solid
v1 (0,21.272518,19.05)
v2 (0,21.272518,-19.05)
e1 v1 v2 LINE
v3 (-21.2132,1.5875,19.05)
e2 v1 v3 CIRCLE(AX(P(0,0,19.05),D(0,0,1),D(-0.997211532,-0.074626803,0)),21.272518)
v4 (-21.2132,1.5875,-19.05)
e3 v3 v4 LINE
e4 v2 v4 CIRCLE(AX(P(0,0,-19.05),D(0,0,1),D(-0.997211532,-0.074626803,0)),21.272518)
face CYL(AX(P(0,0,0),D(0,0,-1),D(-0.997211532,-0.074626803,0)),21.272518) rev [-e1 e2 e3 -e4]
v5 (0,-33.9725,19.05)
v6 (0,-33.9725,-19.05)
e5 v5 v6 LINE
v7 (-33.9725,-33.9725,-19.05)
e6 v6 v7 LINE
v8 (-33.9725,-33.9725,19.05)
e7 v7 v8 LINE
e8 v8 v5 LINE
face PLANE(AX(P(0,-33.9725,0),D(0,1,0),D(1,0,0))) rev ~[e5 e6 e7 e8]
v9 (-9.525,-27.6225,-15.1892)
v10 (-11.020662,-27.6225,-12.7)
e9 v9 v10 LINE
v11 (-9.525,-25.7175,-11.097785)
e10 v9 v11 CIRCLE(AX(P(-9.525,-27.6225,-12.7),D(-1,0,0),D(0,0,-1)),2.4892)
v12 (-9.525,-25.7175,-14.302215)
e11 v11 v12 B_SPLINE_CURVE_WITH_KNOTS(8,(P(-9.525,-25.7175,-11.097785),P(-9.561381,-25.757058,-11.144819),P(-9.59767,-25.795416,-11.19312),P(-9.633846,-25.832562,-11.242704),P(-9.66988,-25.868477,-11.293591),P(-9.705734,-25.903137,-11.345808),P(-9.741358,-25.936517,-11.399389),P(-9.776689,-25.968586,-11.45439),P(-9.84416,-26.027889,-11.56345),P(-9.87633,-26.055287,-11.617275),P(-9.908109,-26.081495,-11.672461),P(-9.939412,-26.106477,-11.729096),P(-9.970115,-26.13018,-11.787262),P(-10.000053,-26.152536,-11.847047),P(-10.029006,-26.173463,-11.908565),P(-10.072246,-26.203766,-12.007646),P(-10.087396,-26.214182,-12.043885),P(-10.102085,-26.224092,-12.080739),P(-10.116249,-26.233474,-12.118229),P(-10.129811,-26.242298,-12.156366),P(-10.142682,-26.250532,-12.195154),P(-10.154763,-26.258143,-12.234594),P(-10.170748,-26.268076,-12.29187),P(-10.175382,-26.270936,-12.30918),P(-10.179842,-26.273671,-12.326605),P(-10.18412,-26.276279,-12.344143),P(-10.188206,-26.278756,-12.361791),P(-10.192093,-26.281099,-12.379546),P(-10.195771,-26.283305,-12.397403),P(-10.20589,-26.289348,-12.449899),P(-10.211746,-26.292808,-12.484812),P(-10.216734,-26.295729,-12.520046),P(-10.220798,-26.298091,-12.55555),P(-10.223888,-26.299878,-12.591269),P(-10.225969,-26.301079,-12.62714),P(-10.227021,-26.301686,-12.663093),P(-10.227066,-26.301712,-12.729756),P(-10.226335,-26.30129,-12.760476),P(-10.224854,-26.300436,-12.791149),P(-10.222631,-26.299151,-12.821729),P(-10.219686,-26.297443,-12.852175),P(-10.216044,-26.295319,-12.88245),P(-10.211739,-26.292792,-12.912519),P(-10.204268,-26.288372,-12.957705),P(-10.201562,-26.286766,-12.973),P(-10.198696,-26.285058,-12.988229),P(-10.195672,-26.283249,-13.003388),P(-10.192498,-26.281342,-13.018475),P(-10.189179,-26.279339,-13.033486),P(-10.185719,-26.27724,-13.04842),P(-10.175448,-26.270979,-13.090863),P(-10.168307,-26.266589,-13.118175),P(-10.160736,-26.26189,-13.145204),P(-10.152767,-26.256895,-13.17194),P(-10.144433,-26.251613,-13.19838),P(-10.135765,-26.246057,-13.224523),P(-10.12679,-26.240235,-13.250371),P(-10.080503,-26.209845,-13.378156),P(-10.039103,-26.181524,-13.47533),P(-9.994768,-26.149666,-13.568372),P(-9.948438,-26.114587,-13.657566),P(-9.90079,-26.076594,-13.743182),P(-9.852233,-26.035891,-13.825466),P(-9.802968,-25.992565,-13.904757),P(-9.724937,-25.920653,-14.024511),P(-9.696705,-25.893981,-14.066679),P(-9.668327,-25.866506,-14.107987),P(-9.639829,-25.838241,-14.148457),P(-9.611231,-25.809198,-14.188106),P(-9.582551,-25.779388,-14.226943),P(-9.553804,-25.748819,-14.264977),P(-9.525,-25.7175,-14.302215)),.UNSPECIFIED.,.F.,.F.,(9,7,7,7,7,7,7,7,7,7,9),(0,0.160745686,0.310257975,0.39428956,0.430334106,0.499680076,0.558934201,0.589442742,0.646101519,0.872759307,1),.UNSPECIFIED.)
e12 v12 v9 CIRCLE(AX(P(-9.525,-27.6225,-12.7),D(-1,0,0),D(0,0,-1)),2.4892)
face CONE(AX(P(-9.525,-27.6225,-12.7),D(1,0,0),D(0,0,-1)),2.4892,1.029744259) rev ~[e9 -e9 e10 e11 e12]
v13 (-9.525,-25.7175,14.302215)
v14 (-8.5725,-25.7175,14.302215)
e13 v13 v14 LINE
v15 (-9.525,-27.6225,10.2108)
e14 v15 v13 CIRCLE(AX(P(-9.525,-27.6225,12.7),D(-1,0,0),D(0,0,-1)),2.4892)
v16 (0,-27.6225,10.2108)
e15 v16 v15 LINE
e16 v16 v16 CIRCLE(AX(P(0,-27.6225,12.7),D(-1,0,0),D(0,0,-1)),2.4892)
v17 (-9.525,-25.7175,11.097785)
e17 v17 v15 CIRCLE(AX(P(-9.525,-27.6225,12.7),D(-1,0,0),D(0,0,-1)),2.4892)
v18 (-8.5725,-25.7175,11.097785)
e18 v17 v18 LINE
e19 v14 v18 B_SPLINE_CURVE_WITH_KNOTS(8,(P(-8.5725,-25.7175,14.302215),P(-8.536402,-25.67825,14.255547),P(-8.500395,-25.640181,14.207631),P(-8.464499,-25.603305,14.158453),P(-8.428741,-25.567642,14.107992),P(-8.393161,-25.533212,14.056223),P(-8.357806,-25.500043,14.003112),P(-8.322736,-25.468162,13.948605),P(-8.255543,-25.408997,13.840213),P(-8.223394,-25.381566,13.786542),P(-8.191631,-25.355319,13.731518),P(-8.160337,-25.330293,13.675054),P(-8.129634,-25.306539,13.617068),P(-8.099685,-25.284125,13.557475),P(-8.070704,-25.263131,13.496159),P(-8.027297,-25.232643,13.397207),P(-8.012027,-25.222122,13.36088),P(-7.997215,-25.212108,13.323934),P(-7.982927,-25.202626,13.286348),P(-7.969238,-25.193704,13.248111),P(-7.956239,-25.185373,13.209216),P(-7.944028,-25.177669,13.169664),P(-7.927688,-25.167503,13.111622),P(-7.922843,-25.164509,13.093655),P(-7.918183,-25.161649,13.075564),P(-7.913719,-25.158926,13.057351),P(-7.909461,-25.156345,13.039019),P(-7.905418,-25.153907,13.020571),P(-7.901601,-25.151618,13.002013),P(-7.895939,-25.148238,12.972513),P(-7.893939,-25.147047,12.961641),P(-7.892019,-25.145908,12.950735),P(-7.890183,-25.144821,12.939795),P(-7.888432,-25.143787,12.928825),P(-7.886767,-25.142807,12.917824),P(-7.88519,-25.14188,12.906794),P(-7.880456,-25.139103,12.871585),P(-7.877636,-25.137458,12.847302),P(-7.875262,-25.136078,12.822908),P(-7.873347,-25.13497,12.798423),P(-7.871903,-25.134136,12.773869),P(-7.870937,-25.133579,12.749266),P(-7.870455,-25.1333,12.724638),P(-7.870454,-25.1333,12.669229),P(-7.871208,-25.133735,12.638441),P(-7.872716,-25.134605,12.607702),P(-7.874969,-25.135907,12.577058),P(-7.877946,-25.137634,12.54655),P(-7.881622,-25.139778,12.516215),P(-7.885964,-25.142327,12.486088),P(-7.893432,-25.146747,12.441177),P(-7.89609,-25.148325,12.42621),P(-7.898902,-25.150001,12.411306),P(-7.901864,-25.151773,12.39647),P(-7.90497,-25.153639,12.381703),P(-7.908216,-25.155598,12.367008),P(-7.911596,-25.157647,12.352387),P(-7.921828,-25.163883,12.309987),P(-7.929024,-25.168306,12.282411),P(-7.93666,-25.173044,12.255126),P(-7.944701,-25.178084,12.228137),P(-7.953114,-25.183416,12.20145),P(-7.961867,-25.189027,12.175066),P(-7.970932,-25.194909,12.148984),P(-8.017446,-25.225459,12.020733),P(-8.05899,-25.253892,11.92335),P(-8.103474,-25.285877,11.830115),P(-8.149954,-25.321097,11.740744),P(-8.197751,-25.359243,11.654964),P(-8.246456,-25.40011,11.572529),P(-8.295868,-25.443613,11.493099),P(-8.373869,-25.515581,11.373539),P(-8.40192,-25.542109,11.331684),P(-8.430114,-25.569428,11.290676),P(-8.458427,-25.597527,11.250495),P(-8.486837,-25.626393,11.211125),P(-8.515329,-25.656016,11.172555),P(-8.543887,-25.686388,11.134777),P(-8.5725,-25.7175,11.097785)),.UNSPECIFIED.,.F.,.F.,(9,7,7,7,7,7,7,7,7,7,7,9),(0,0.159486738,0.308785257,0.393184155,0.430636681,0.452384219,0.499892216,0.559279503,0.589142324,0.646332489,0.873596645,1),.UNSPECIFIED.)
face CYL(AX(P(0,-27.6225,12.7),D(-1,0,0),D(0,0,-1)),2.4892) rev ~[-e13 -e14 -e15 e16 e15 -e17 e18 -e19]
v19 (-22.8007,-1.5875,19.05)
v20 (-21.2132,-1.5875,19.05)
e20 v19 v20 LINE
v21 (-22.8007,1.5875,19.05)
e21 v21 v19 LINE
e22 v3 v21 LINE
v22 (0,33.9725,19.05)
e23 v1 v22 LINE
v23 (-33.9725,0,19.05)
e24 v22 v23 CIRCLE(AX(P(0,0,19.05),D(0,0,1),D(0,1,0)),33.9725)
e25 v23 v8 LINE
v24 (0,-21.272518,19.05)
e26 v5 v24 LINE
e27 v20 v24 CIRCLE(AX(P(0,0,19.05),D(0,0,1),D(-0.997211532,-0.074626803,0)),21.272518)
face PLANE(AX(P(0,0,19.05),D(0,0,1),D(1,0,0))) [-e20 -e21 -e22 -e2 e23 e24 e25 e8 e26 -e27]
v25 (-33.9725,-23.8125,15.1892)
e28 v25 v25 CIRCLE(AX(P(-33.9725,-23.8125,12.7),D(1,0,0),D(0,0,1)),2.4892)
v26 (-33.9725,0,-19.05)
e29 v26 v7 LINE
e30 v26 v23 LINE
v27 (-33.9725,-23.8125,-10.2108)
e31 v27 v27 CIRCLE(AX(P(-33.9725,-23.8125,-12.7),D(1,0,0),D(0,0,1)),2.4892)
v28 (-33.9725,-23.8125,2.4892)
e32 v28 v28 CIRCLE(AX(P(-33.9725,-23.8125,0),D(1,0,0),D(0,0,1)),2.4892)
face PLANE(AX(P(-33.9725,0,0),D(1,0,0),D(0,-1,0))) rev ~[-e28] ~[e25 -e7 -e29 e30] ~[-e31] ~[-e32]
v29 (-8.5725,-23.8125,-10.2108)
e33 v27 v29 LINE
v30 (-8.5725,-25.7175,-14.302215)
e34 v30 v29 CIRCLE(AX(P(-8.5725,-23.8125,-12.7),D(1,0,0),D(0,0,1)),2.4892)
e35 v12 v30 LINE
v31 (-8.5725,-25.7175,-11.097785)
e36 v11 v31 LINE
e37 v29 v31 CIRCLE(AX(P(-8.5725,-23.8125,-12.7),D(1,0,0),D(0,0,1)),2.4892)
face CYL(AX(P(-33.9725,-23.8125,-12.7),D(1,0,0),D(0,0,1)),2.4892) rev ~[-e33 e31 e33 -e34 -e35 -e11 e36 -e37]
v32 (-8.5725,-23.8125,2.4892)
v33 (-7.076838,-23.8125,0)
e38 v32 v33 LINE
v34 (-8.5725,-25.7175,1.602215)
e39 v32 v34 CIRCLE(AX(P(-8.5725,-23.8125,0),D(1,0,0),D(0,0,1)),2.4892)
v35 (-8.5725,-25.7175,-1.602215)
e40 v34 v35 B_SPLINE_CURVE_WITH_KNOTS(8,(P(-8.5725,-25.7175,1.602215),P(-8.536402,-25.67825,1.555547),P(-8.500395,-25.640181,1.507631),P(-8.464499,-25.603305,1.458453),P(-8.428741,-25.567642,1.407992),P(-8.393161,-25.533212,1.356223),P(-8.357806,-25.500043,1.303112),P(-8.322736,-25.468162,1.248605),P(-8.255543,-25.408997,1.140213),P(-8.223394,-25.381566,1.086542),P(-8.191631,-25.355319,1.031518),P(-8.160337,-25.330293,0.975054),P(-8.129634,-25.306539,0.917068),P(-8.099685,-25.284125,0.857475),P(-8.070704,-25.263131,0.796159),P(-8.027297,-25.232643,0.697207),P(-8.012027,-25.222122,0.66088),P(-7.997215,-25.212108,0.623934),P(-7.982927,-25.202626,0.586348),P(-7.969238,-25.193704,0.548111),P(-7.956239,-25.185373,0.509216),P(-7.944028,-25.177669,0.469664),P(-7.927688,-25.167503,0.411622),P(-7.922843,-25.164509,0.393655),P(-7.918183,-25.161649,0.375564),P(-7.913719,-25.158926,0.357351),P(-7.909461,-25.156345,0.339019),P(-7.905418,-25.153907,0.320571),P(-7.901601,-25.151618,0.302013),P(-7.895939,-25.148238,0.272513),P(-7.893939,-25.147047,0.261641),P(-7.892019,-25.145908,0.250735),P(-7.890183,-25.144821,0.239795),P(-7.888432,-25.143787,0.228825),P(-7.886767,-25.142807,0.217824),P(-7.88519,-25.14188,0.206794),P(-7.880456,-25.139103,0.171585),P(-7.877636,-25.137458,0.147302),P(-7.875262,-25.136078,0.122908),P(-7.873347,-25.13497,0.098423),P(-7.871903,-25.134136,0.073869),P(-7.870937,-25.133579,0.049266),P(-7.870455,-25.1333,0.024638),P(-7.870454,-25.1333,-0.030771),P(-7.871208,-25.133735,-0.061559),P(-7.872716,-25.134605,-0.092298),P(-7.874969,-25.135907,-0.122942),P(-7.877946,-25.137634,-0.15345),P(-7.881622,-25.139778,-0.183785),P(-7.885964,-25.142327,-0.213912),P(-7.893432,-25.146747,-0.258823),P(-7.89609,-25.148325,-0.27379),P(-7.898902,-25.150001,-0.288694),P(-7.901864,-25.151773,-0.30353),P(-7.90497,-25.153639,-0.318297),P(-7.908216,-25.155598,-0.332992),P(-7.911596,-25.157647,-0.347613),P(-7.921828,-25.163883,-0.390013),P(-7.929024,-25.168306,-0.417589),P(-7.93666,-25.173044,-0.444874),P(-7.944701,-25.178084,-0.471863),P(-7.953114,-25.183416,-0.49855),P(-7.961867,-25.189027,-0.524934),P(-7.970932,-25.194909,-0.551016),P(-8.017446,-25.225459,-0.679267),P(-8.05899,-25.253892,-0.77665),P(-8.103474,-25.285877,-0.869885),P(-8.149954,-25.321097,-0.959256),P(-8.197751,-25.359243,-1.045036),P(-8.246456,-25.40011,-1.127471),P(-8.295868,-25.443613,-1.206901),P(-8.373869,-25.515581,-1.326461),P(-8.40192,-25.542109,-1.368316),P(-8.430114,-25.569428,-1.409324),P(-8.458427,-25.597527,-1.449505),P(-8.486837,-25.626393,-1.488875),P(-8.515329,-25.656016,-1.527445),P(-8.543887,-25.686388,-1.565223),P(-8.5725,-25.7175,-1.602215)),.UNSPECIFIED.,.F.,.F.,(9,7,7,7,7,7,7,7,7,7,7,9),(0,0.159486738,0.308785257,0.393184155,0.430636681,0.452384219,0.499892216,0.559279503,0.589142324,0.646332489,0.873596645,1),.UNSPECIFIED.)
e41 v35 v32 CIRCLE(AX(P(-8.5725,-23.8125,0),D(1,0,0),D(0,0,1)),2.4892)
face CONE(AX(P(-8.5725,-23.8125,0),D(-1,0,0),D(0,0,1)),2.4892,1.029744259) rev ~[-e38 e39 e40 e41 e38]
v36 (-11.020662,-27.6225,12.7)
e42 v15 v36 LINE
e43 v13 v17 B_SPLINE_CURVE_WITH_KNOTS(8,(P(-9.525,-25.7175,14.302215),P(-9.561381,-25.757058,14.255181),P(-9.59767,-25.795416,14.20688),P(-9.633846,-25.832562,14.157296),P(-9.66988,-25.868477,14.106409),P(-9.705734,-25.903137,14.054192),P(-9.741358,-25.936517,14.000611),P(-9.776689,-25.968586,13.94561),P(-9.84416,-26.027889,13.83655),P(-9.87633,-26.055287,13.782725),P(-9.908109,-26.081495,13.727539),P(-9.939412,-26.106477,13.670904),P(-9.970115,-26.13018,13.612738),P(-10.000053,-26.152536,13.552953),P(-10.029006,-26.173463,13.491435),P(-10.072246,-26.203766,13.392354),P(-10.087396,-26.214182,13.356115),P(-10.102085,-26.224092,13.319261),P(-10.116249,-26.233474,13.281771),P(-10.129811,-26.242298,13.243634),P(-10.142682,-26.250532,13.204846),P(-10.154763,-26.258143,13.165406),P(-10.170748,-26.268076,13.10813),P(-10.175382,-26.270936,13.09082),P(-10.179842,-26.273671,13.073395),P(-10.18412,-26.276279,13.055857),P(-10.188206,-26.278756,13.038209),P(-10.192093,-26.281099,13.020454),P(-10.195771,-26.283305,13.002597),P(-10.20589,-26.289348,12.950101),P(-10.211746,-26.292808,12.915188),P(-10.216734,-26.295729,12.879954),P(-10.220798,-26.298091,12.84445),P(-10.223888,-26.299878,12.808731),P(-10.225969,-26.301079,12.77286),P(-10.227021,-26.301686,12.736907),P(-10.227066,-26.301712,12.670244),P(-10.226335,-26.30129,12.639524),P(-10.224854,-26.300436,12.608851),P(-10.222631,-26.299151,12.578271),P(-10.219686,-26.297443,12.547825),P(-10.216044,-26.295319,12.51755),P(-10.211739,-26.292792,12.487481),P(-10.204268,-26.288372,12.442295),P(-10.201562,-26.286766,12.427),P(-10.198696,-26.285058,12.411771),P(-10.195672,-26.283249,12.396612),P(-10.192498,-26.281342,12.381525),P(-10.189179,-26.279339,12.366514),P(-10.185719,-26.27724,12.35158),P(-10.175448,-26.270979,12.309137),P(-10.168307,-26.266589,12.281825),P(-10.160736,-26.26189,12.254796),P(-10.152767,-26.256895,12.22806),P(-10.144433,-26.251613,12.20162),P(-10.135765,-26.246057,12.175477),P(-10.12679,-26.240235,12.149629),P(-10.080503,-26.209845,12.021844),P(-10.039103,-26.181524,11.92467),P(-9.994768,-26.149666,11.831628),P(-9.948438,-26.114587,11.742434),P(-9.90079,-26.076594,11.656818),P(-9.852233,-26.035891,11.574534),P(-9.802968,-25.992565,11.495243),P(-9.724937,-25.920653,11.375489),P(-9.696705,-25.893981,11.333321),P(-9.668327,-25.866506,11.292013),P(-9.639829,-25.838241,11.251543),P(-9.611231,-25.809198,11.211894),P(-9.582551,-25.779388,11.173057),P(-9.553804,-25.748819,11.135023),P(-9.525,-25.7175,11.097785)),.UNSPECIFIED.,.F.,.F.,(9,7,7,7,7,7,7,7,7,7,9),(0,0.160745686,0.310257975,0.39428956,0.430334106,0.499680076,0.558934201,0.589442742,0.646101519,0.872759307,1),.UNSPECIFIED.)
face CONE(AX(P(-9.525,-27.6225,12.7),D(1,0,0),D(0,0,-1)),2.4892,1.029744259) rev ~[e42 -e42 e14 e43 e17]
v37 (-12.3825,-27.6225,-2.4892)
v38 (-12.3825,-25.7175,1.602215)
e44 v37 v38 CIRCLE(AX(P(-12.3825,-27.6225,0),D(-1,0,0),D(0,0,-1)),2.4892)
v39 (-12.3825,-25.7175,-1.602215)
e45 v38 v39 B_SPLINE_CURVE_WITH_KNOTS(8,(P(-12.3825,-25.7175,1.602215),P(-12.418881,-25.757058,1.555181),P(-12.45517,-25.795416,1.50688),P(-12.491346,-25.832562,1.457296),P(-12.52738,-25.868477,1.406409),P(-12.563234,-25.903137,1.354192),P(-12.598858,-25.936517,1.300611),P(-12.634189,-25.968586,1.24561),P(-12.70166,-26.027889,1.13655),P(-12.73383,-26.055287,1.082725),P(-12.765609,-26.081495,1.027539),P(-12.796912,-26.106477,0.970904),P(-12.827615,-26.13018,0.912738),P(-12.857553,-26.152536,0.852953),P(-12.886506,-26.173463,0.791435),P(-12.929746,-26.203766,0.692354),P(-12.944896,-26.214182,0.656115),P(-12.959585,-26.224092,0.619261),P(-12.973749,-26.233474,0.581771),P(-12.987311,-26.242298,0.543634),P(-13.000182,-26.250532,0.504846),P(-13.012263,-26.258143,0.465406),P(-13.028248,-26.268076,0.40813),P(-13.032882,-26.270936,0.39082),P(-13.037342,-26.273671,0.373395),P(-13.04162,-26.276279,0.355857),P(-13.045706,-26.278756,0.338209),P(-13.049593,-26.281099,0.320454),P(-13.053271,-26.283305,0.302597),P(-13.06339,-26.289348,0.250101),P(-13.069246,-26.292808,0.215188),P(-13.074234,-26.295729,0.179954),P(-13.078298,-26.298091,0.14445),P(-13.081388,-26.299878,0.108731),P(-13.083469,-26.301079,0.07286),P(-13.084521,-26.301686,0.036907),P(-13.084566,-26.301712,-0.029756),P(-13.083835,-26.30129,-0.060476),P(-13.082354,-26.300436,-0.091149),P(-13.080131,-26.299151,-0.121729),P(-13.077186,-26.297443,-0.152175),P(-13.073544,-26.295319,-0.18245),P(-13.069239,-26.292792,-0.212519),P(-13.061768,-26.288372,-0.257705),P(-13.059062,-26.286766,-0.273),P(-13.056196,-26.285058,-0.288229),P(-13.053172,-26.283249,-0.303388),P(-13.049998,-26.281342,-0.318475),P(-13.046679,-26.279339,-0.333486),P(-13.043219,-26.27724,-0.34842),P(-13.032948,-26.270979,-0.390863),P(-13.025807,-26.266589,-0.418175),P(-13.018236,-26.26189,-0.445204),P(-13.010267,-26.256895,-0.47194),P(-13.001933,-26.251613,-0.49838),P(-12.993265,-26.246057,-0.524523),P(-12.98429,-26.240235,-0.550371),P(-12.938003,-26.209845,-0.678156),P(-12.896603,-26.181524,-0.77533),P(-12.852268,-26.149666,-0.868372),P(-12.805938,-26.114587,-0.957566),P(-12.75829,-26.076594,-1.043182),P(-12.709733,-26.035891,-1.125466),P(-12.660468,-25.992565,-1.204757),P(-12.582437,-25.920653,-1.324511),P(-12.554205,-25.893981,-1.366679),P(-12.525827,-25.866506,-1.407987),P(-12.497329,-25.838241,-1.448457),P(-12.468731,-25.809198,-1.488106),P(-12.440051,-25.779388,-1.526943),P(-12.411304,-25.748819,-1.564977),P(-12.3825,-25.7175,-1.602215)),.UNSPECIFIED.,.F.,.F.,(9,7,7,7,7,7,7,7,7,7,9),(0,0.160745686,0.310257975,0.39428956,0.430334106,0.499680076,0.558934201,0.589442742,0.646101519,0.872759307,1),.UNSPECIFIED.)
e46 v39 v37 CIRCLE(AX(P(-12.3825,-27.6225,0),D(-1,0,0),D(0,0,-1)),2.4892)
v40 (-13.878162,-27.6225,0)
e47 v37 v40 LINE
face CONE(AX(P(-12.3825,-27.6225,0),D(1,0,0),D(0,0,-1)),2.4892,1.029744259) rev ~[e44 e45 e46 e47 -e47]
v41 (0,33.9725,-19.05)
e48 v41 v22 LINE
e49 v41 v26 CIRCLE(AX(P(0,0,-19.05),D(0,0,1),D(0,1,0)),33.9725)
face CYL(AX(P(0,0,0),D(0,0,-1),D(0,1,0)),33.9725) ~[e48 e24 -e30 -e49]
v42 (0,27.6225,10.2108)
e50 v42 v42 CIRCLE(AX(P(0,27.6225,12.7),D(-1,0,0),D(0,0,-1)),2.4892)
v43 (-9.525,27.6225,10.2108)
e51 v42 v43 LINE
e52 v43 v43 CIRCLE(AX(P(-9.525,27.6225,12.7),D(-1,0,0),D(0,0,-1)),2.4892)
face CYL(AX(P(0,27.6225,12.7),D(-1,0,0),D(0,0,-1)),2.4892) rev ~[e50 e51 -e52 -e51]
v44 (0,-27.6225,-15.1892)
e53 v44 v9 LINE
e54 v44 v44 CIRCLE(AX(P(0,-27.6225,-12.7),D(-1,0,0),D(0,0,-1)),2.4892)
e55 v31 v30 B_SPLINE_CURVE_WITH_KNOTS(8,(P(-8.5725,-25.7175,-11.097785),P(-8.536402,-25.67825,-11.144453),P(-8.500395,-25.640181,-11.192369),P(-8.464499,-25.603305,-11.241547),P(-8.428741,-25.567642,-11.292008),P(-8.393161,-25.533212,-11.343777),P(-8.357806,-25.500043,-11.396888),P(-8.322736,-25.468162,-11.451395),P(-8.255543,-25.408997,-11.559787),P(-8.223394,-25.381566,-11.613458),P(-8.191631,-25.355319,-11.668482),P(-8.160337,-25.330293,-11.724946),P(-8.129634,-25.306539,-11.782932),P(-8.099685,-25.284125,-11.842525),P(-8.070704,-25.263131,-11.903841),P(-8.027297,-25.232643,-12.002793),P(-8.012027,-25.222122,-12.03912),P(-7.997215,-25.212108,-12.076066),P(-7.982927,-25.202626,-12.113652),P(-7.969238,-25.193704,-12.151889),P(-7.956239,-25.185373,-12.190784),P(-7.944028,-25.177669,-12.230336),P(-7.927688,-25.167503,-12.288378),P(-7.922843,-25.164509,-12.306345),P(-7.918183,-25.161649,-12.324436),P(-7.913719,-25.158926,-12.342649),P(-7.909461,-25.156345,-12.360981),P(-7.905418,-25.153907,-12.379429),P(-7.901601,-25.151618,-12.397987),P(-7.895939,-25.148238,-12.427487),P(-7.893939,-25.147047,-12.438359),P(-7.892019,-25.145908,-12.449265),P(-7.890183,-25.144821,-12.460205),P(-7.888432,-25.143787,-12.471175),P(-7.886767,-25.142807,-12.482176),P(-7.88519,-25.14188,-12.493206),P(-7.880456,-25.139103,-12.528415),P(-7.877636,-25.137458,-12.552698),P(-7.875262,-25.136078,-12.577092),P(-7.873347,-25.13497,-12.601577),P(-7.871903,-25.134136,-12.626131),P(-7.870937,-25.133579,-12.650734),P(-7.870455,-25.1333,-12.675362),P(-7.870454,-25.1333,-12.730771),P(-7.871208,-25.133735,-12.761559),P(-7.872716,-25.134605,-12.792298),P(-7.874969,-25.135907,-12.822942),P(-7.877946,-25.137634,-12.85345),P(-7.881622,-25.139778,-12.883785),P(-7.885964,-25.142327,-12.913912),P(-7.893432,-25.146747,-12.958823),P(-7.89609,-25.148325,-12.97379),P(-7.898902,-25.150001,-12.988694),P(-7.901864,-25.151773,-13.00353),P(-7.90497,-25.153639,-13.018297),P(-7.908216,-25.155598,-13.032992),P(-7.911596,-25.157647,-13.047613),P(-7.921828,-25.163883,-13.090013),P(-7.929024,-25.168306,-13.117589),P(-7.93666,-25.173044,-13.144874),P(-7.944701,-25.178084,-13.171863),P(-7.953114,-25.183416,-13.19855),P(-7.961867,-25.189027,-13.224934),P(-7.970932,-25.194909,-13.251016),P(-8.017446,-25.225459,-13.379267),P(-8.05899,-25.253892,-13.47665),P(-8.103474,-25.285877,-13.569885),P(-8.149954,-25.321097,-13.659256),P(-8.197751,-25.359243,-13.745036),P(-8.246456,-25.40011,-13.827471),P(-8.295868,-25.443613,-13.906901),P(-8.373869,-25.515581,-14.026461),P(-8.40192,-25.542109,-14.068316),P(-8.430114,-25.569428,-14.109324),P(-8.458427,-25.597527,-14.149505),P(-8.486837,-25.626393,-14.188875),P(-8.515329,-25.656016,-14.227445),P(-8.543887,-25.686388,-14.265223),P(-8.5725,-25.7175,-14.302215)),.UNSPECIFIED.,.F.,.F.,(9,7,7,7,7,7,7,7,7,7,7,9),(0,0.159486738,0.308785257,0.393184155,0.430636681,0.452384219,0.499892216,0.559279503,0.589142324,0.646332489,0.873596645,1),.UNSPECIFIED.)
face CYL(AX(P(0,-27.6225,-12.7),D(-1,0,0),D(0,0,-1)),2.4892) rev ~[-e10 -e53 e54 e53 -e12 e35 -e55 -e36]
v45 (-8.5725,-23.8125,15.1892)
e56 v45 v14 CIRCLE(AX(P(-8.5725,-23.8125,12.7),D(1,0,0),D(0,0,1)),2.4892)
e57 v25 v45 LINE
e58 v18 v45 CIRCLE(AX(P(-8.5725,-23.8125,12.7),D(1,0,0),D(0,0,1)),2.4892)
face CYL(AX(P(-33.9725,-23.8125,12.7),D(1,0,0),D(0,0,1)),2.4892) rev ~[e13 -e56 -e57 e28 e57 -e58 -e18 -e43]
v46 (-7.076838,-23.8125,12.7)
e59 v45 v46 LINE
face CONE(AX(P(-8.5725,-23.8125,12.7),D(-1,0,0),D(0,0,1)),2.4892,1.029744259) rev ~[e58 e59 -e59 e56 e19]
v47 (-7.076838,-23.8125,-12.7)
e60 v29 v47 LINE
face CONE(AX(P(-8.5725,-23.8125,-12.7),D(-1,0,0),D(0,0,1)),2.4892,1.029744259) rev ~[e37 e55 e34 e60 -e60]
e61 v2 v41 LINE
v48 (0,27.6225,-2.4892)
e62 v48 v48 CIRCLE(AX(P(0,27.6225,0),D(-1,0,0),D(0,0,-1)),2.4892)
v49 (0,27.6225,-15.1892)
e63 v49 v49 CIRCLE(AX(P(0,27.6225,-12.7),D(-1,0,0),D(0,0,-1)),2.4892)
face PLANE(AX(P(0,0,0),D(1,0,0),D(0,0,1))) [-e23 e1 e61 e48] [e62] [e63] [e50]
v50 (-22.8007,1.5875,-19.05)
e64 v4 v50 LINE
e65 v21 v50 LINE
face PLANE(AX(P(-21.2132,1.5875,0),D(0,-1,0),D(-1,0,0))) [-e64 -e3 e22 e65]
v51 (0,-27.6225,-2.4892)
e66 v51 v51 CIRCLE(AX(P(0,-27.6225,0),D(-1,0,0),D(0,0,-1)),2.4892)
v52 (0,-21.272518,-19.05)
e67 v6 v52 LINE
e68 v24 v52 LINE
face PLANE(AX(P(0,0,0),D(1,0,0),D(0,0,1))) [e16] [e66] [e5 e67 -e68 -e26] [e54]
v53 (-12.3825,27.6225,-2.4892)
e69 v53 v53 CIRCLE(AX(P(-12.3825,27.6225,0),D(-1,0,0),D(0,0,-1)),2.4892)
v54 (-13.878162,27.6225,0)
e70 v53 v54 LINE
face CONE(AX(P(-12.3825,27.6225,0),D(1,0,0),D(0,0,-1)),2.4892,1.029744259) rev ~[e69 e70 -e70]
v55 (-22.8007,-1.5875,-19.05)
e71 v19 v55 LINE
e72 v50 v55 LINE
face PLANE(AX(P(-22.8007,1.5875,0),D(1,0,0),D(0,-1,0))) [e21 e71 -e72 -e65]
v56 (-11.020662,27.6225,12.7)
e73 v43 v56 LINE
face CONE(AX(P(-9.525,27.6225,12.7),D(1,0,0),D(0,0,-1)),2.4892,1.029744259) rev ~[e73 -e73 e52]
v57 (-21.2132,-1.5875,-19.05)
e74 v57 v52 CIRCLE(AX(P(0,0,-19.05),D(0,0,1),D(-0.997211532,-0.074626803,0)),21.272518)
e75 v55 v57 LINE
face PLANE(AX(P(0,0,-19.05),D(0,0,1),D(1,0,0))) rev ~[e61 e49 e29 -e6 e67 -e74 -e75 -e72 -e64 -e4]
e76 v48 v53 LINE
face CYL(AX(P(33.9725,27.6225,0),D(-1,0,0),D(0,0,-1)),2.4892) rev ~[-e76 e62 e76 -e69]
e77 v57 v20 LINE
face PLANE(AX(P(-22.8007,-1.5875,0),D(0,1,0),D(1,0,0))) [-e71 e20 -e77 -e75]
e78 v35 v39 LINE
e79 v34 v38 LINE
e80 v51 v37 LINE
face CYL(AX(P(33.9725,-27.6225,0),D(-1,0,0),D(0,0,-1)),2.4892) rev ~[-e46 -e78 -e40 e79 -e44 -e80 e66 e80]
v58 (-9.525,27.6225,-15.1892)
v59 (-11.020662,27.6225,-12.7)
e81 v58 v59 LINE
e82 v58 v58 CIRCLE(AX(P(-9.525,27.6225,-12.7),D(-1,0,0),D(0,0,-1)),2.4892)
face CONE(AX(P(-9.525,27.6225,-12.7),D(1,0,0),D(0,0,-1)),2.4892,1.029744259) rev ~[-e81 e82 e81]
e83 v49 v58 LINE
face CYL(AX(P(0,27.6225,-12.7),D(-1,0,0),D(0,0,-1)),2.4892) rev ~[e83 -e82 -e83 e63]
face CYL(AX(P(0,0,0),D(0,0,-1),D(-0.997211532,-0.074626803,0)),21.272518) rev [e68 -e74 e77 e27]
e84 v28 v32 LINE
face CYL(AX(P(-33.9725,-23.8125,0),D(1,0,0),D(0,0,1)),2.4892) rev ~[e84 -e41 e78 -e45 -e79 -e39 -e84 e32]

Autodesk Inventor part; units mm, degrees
ref_plane "YZ Plane" through (0, 0, 0) normal (1, 0, 0) x (0, 1, 0)
ref_plane "XZ Plane" through (0, 0, 0) normal (0, 1, 0) x (-1, 0, 0)
ref_plane "XY Plane" through (0, 0, 0) normal (0, 0, 1) x (1, 0, 0)
sketch "Sketch1" plane through (0, 0, 0) normal (0, 0, 1) x (1, 0, 0)
  arc A0 (-21.2132, -1.5875) -> (-21.2132, 1.5875) centre (0, 0) ccw
  arc A1 (0, 33.9725) -> (-33.9725, 0) centre (0, 0) ccw
  line L0 (0, -33.9725) -> (-33.9725, -33.9725)
  line L1 (-33.9725, 0) -> (-33.9725, -33.9725)
  line L2 (0, 33.9725) -> (33.9725, 33.9725)
  line L3 (0, -33.9725) -> (33.9725, -33.9725)
  line L4 (33.9725, 0) -> (33.9725, -33.9725)
  line L5 (33.9725, 0) -> (33.9725, 33.9725)
  line L6 (0, 0) -> (-21.2655, 0) construction
  line L7 (-21.2132, 1.5875) -> (-22.8007, 1.5875)
  line L8 (-22.8007, 1.5875) -> (-22.8007, -1.5875)
  line L9 (-22.8007, -1.5875) -> (-21.2132, -1.5875)
  dimension "d0" = 42.545
  dimension "d1" = 67.945
  dimension "d29" = 1.5875
  dimension "d30" = 1.5875
  dimension "d31" = 1.5875
extrude "Extrusion1" add sketch "Sketch1" along normal mid plane 38.1
sketch "Sketch3" plane through (33.9725, -33.9725, 19.05) normal (1, 0, 0) x (0, 0, -1)
  line L0 (0, 67.945) -> (38.1, 67.945) construction
  line L1 (19.05, 67.945) -> (19.05, 0) construction
  line L2 (0, 0) -> (38.1, 0) construction
  point P0 (19.05, 33.9725)
  point P1 (19.05, 61.595)
  point P2 (19.05, 6.35)
  dimension "d13" = 6.35
  dimension "d14" = 6.35
split "Split1" plane through (0, 0, 0) removes the side toward (1, 0, 0)
sketch "Sketch4" plane through (0, 21.2725, -19.05) normal (1, 0, 0) x (0, 0, -1)
  point P0 (-19.05, -21.2725)
hole "Hole3" at (33.9725, 27.6225, 0) at (33.9725, -27.6225, 0) direction (-1, 0, 0) diameter 4.9784 depth 46.355 tip angle 118 thread size "1/4-20 UNC" class "2B" standard "ANSI Unified Screw Threads"
sketch "Sketch5" plane through (-33.9725, -33.9725, 19.05) normal (-1, 0, 0) x (0, 0, 1)
  line L0 (0, 0) -> (-38.1, 0) construction
  line L1 (-31.75, 0) -> (-31.75, 33.9725) construction
  line L2 (-6.35, 0) -> (-6.35, 33.9725) construction
  line L3 (0, 33.9725) -> (-38.1, 33.9725) construction
  line L4 (-38.1, 0) -> (-38.1, 33.9725) construction
  line L5 (0, 33.9725) -> (0, 0) construction
  line L6 (-19.05, 33.9725) -> (-19.05, 0) construction
  point P0 (-31.75, 10.16)
  point P1 (-6.35, 10.16)
  point P2 (-19.05, 10.16)
  dimension "d32" = 6.35
  dimension "d33" = 6.35
  dimension "d34" = 10.16
  dimension "d35" = 10.16
sketch "Sketch6" plane through (0, -33.9725, 19.05) normal (1, 0, 0) x (0, 0, -1)
  line L0 (0, 67.945) -> (38.1, 67.945) construction
  line L1 (6.35, 67.945) -> (6.35, 0) construction
  line L2 (0, 0) -> (38.1, 0) construction
  line L3 (31.75, 67.945) -> (31.75, 0) construction
  line L4 (0, 0) -> (0, 12.7) construction
  line L5 (38.1, 12.7) -> (38.1, 0) construction
  point P0 (19.05, 33.9725)
  point P1 (6.35, 6.35)
  point P2 (6.35, 61.595)
  point P3 (31.75, 61.595)
  point P4 (31.75, 6.35)
  dimension "d36" = 6.35
  dimension "d37" = 6.35
  dimension "d38" = 6.35
  dimension "d39" = 6.35
hole "Hole4" at (-33.9725, -23.8125, -12.7) at (-33.9725, -23.8125, 0) at (-33.9725, -23.8125, 12.7) direction (1, 0, 0) diameter 4.9784 depth 25.4 tip angle 118 thread size "1/4-20 UNC" class "2B" standard "ANSI Unified Screw Threads"
hole "Hole5" at (0, 27.6225, 12.7) at (0, 27.6225, -12.7) at (0, -27.6225, -12.7) at (0, -27.6225, 12.7) direction (-1, 0, 0) diameter 4.9784 depth 9.525 tip angle 118 thread size "1/4-20 UNC" class "2B" standard "ANSI Unified Screw Threads"
equation "\"d0\" = pipeDiameter"
equation "\"d1\" = pipeDiameter + 2 * outerRadius"
equation "\"d2\" = width"
equation "\"pipeDiameter\" = 42.545"
equation "\"outerRadius\" = 12.7"
equation "\"width\" = 38.1"
properties part number "gripperBracketA" material "Aluminum 6061"
